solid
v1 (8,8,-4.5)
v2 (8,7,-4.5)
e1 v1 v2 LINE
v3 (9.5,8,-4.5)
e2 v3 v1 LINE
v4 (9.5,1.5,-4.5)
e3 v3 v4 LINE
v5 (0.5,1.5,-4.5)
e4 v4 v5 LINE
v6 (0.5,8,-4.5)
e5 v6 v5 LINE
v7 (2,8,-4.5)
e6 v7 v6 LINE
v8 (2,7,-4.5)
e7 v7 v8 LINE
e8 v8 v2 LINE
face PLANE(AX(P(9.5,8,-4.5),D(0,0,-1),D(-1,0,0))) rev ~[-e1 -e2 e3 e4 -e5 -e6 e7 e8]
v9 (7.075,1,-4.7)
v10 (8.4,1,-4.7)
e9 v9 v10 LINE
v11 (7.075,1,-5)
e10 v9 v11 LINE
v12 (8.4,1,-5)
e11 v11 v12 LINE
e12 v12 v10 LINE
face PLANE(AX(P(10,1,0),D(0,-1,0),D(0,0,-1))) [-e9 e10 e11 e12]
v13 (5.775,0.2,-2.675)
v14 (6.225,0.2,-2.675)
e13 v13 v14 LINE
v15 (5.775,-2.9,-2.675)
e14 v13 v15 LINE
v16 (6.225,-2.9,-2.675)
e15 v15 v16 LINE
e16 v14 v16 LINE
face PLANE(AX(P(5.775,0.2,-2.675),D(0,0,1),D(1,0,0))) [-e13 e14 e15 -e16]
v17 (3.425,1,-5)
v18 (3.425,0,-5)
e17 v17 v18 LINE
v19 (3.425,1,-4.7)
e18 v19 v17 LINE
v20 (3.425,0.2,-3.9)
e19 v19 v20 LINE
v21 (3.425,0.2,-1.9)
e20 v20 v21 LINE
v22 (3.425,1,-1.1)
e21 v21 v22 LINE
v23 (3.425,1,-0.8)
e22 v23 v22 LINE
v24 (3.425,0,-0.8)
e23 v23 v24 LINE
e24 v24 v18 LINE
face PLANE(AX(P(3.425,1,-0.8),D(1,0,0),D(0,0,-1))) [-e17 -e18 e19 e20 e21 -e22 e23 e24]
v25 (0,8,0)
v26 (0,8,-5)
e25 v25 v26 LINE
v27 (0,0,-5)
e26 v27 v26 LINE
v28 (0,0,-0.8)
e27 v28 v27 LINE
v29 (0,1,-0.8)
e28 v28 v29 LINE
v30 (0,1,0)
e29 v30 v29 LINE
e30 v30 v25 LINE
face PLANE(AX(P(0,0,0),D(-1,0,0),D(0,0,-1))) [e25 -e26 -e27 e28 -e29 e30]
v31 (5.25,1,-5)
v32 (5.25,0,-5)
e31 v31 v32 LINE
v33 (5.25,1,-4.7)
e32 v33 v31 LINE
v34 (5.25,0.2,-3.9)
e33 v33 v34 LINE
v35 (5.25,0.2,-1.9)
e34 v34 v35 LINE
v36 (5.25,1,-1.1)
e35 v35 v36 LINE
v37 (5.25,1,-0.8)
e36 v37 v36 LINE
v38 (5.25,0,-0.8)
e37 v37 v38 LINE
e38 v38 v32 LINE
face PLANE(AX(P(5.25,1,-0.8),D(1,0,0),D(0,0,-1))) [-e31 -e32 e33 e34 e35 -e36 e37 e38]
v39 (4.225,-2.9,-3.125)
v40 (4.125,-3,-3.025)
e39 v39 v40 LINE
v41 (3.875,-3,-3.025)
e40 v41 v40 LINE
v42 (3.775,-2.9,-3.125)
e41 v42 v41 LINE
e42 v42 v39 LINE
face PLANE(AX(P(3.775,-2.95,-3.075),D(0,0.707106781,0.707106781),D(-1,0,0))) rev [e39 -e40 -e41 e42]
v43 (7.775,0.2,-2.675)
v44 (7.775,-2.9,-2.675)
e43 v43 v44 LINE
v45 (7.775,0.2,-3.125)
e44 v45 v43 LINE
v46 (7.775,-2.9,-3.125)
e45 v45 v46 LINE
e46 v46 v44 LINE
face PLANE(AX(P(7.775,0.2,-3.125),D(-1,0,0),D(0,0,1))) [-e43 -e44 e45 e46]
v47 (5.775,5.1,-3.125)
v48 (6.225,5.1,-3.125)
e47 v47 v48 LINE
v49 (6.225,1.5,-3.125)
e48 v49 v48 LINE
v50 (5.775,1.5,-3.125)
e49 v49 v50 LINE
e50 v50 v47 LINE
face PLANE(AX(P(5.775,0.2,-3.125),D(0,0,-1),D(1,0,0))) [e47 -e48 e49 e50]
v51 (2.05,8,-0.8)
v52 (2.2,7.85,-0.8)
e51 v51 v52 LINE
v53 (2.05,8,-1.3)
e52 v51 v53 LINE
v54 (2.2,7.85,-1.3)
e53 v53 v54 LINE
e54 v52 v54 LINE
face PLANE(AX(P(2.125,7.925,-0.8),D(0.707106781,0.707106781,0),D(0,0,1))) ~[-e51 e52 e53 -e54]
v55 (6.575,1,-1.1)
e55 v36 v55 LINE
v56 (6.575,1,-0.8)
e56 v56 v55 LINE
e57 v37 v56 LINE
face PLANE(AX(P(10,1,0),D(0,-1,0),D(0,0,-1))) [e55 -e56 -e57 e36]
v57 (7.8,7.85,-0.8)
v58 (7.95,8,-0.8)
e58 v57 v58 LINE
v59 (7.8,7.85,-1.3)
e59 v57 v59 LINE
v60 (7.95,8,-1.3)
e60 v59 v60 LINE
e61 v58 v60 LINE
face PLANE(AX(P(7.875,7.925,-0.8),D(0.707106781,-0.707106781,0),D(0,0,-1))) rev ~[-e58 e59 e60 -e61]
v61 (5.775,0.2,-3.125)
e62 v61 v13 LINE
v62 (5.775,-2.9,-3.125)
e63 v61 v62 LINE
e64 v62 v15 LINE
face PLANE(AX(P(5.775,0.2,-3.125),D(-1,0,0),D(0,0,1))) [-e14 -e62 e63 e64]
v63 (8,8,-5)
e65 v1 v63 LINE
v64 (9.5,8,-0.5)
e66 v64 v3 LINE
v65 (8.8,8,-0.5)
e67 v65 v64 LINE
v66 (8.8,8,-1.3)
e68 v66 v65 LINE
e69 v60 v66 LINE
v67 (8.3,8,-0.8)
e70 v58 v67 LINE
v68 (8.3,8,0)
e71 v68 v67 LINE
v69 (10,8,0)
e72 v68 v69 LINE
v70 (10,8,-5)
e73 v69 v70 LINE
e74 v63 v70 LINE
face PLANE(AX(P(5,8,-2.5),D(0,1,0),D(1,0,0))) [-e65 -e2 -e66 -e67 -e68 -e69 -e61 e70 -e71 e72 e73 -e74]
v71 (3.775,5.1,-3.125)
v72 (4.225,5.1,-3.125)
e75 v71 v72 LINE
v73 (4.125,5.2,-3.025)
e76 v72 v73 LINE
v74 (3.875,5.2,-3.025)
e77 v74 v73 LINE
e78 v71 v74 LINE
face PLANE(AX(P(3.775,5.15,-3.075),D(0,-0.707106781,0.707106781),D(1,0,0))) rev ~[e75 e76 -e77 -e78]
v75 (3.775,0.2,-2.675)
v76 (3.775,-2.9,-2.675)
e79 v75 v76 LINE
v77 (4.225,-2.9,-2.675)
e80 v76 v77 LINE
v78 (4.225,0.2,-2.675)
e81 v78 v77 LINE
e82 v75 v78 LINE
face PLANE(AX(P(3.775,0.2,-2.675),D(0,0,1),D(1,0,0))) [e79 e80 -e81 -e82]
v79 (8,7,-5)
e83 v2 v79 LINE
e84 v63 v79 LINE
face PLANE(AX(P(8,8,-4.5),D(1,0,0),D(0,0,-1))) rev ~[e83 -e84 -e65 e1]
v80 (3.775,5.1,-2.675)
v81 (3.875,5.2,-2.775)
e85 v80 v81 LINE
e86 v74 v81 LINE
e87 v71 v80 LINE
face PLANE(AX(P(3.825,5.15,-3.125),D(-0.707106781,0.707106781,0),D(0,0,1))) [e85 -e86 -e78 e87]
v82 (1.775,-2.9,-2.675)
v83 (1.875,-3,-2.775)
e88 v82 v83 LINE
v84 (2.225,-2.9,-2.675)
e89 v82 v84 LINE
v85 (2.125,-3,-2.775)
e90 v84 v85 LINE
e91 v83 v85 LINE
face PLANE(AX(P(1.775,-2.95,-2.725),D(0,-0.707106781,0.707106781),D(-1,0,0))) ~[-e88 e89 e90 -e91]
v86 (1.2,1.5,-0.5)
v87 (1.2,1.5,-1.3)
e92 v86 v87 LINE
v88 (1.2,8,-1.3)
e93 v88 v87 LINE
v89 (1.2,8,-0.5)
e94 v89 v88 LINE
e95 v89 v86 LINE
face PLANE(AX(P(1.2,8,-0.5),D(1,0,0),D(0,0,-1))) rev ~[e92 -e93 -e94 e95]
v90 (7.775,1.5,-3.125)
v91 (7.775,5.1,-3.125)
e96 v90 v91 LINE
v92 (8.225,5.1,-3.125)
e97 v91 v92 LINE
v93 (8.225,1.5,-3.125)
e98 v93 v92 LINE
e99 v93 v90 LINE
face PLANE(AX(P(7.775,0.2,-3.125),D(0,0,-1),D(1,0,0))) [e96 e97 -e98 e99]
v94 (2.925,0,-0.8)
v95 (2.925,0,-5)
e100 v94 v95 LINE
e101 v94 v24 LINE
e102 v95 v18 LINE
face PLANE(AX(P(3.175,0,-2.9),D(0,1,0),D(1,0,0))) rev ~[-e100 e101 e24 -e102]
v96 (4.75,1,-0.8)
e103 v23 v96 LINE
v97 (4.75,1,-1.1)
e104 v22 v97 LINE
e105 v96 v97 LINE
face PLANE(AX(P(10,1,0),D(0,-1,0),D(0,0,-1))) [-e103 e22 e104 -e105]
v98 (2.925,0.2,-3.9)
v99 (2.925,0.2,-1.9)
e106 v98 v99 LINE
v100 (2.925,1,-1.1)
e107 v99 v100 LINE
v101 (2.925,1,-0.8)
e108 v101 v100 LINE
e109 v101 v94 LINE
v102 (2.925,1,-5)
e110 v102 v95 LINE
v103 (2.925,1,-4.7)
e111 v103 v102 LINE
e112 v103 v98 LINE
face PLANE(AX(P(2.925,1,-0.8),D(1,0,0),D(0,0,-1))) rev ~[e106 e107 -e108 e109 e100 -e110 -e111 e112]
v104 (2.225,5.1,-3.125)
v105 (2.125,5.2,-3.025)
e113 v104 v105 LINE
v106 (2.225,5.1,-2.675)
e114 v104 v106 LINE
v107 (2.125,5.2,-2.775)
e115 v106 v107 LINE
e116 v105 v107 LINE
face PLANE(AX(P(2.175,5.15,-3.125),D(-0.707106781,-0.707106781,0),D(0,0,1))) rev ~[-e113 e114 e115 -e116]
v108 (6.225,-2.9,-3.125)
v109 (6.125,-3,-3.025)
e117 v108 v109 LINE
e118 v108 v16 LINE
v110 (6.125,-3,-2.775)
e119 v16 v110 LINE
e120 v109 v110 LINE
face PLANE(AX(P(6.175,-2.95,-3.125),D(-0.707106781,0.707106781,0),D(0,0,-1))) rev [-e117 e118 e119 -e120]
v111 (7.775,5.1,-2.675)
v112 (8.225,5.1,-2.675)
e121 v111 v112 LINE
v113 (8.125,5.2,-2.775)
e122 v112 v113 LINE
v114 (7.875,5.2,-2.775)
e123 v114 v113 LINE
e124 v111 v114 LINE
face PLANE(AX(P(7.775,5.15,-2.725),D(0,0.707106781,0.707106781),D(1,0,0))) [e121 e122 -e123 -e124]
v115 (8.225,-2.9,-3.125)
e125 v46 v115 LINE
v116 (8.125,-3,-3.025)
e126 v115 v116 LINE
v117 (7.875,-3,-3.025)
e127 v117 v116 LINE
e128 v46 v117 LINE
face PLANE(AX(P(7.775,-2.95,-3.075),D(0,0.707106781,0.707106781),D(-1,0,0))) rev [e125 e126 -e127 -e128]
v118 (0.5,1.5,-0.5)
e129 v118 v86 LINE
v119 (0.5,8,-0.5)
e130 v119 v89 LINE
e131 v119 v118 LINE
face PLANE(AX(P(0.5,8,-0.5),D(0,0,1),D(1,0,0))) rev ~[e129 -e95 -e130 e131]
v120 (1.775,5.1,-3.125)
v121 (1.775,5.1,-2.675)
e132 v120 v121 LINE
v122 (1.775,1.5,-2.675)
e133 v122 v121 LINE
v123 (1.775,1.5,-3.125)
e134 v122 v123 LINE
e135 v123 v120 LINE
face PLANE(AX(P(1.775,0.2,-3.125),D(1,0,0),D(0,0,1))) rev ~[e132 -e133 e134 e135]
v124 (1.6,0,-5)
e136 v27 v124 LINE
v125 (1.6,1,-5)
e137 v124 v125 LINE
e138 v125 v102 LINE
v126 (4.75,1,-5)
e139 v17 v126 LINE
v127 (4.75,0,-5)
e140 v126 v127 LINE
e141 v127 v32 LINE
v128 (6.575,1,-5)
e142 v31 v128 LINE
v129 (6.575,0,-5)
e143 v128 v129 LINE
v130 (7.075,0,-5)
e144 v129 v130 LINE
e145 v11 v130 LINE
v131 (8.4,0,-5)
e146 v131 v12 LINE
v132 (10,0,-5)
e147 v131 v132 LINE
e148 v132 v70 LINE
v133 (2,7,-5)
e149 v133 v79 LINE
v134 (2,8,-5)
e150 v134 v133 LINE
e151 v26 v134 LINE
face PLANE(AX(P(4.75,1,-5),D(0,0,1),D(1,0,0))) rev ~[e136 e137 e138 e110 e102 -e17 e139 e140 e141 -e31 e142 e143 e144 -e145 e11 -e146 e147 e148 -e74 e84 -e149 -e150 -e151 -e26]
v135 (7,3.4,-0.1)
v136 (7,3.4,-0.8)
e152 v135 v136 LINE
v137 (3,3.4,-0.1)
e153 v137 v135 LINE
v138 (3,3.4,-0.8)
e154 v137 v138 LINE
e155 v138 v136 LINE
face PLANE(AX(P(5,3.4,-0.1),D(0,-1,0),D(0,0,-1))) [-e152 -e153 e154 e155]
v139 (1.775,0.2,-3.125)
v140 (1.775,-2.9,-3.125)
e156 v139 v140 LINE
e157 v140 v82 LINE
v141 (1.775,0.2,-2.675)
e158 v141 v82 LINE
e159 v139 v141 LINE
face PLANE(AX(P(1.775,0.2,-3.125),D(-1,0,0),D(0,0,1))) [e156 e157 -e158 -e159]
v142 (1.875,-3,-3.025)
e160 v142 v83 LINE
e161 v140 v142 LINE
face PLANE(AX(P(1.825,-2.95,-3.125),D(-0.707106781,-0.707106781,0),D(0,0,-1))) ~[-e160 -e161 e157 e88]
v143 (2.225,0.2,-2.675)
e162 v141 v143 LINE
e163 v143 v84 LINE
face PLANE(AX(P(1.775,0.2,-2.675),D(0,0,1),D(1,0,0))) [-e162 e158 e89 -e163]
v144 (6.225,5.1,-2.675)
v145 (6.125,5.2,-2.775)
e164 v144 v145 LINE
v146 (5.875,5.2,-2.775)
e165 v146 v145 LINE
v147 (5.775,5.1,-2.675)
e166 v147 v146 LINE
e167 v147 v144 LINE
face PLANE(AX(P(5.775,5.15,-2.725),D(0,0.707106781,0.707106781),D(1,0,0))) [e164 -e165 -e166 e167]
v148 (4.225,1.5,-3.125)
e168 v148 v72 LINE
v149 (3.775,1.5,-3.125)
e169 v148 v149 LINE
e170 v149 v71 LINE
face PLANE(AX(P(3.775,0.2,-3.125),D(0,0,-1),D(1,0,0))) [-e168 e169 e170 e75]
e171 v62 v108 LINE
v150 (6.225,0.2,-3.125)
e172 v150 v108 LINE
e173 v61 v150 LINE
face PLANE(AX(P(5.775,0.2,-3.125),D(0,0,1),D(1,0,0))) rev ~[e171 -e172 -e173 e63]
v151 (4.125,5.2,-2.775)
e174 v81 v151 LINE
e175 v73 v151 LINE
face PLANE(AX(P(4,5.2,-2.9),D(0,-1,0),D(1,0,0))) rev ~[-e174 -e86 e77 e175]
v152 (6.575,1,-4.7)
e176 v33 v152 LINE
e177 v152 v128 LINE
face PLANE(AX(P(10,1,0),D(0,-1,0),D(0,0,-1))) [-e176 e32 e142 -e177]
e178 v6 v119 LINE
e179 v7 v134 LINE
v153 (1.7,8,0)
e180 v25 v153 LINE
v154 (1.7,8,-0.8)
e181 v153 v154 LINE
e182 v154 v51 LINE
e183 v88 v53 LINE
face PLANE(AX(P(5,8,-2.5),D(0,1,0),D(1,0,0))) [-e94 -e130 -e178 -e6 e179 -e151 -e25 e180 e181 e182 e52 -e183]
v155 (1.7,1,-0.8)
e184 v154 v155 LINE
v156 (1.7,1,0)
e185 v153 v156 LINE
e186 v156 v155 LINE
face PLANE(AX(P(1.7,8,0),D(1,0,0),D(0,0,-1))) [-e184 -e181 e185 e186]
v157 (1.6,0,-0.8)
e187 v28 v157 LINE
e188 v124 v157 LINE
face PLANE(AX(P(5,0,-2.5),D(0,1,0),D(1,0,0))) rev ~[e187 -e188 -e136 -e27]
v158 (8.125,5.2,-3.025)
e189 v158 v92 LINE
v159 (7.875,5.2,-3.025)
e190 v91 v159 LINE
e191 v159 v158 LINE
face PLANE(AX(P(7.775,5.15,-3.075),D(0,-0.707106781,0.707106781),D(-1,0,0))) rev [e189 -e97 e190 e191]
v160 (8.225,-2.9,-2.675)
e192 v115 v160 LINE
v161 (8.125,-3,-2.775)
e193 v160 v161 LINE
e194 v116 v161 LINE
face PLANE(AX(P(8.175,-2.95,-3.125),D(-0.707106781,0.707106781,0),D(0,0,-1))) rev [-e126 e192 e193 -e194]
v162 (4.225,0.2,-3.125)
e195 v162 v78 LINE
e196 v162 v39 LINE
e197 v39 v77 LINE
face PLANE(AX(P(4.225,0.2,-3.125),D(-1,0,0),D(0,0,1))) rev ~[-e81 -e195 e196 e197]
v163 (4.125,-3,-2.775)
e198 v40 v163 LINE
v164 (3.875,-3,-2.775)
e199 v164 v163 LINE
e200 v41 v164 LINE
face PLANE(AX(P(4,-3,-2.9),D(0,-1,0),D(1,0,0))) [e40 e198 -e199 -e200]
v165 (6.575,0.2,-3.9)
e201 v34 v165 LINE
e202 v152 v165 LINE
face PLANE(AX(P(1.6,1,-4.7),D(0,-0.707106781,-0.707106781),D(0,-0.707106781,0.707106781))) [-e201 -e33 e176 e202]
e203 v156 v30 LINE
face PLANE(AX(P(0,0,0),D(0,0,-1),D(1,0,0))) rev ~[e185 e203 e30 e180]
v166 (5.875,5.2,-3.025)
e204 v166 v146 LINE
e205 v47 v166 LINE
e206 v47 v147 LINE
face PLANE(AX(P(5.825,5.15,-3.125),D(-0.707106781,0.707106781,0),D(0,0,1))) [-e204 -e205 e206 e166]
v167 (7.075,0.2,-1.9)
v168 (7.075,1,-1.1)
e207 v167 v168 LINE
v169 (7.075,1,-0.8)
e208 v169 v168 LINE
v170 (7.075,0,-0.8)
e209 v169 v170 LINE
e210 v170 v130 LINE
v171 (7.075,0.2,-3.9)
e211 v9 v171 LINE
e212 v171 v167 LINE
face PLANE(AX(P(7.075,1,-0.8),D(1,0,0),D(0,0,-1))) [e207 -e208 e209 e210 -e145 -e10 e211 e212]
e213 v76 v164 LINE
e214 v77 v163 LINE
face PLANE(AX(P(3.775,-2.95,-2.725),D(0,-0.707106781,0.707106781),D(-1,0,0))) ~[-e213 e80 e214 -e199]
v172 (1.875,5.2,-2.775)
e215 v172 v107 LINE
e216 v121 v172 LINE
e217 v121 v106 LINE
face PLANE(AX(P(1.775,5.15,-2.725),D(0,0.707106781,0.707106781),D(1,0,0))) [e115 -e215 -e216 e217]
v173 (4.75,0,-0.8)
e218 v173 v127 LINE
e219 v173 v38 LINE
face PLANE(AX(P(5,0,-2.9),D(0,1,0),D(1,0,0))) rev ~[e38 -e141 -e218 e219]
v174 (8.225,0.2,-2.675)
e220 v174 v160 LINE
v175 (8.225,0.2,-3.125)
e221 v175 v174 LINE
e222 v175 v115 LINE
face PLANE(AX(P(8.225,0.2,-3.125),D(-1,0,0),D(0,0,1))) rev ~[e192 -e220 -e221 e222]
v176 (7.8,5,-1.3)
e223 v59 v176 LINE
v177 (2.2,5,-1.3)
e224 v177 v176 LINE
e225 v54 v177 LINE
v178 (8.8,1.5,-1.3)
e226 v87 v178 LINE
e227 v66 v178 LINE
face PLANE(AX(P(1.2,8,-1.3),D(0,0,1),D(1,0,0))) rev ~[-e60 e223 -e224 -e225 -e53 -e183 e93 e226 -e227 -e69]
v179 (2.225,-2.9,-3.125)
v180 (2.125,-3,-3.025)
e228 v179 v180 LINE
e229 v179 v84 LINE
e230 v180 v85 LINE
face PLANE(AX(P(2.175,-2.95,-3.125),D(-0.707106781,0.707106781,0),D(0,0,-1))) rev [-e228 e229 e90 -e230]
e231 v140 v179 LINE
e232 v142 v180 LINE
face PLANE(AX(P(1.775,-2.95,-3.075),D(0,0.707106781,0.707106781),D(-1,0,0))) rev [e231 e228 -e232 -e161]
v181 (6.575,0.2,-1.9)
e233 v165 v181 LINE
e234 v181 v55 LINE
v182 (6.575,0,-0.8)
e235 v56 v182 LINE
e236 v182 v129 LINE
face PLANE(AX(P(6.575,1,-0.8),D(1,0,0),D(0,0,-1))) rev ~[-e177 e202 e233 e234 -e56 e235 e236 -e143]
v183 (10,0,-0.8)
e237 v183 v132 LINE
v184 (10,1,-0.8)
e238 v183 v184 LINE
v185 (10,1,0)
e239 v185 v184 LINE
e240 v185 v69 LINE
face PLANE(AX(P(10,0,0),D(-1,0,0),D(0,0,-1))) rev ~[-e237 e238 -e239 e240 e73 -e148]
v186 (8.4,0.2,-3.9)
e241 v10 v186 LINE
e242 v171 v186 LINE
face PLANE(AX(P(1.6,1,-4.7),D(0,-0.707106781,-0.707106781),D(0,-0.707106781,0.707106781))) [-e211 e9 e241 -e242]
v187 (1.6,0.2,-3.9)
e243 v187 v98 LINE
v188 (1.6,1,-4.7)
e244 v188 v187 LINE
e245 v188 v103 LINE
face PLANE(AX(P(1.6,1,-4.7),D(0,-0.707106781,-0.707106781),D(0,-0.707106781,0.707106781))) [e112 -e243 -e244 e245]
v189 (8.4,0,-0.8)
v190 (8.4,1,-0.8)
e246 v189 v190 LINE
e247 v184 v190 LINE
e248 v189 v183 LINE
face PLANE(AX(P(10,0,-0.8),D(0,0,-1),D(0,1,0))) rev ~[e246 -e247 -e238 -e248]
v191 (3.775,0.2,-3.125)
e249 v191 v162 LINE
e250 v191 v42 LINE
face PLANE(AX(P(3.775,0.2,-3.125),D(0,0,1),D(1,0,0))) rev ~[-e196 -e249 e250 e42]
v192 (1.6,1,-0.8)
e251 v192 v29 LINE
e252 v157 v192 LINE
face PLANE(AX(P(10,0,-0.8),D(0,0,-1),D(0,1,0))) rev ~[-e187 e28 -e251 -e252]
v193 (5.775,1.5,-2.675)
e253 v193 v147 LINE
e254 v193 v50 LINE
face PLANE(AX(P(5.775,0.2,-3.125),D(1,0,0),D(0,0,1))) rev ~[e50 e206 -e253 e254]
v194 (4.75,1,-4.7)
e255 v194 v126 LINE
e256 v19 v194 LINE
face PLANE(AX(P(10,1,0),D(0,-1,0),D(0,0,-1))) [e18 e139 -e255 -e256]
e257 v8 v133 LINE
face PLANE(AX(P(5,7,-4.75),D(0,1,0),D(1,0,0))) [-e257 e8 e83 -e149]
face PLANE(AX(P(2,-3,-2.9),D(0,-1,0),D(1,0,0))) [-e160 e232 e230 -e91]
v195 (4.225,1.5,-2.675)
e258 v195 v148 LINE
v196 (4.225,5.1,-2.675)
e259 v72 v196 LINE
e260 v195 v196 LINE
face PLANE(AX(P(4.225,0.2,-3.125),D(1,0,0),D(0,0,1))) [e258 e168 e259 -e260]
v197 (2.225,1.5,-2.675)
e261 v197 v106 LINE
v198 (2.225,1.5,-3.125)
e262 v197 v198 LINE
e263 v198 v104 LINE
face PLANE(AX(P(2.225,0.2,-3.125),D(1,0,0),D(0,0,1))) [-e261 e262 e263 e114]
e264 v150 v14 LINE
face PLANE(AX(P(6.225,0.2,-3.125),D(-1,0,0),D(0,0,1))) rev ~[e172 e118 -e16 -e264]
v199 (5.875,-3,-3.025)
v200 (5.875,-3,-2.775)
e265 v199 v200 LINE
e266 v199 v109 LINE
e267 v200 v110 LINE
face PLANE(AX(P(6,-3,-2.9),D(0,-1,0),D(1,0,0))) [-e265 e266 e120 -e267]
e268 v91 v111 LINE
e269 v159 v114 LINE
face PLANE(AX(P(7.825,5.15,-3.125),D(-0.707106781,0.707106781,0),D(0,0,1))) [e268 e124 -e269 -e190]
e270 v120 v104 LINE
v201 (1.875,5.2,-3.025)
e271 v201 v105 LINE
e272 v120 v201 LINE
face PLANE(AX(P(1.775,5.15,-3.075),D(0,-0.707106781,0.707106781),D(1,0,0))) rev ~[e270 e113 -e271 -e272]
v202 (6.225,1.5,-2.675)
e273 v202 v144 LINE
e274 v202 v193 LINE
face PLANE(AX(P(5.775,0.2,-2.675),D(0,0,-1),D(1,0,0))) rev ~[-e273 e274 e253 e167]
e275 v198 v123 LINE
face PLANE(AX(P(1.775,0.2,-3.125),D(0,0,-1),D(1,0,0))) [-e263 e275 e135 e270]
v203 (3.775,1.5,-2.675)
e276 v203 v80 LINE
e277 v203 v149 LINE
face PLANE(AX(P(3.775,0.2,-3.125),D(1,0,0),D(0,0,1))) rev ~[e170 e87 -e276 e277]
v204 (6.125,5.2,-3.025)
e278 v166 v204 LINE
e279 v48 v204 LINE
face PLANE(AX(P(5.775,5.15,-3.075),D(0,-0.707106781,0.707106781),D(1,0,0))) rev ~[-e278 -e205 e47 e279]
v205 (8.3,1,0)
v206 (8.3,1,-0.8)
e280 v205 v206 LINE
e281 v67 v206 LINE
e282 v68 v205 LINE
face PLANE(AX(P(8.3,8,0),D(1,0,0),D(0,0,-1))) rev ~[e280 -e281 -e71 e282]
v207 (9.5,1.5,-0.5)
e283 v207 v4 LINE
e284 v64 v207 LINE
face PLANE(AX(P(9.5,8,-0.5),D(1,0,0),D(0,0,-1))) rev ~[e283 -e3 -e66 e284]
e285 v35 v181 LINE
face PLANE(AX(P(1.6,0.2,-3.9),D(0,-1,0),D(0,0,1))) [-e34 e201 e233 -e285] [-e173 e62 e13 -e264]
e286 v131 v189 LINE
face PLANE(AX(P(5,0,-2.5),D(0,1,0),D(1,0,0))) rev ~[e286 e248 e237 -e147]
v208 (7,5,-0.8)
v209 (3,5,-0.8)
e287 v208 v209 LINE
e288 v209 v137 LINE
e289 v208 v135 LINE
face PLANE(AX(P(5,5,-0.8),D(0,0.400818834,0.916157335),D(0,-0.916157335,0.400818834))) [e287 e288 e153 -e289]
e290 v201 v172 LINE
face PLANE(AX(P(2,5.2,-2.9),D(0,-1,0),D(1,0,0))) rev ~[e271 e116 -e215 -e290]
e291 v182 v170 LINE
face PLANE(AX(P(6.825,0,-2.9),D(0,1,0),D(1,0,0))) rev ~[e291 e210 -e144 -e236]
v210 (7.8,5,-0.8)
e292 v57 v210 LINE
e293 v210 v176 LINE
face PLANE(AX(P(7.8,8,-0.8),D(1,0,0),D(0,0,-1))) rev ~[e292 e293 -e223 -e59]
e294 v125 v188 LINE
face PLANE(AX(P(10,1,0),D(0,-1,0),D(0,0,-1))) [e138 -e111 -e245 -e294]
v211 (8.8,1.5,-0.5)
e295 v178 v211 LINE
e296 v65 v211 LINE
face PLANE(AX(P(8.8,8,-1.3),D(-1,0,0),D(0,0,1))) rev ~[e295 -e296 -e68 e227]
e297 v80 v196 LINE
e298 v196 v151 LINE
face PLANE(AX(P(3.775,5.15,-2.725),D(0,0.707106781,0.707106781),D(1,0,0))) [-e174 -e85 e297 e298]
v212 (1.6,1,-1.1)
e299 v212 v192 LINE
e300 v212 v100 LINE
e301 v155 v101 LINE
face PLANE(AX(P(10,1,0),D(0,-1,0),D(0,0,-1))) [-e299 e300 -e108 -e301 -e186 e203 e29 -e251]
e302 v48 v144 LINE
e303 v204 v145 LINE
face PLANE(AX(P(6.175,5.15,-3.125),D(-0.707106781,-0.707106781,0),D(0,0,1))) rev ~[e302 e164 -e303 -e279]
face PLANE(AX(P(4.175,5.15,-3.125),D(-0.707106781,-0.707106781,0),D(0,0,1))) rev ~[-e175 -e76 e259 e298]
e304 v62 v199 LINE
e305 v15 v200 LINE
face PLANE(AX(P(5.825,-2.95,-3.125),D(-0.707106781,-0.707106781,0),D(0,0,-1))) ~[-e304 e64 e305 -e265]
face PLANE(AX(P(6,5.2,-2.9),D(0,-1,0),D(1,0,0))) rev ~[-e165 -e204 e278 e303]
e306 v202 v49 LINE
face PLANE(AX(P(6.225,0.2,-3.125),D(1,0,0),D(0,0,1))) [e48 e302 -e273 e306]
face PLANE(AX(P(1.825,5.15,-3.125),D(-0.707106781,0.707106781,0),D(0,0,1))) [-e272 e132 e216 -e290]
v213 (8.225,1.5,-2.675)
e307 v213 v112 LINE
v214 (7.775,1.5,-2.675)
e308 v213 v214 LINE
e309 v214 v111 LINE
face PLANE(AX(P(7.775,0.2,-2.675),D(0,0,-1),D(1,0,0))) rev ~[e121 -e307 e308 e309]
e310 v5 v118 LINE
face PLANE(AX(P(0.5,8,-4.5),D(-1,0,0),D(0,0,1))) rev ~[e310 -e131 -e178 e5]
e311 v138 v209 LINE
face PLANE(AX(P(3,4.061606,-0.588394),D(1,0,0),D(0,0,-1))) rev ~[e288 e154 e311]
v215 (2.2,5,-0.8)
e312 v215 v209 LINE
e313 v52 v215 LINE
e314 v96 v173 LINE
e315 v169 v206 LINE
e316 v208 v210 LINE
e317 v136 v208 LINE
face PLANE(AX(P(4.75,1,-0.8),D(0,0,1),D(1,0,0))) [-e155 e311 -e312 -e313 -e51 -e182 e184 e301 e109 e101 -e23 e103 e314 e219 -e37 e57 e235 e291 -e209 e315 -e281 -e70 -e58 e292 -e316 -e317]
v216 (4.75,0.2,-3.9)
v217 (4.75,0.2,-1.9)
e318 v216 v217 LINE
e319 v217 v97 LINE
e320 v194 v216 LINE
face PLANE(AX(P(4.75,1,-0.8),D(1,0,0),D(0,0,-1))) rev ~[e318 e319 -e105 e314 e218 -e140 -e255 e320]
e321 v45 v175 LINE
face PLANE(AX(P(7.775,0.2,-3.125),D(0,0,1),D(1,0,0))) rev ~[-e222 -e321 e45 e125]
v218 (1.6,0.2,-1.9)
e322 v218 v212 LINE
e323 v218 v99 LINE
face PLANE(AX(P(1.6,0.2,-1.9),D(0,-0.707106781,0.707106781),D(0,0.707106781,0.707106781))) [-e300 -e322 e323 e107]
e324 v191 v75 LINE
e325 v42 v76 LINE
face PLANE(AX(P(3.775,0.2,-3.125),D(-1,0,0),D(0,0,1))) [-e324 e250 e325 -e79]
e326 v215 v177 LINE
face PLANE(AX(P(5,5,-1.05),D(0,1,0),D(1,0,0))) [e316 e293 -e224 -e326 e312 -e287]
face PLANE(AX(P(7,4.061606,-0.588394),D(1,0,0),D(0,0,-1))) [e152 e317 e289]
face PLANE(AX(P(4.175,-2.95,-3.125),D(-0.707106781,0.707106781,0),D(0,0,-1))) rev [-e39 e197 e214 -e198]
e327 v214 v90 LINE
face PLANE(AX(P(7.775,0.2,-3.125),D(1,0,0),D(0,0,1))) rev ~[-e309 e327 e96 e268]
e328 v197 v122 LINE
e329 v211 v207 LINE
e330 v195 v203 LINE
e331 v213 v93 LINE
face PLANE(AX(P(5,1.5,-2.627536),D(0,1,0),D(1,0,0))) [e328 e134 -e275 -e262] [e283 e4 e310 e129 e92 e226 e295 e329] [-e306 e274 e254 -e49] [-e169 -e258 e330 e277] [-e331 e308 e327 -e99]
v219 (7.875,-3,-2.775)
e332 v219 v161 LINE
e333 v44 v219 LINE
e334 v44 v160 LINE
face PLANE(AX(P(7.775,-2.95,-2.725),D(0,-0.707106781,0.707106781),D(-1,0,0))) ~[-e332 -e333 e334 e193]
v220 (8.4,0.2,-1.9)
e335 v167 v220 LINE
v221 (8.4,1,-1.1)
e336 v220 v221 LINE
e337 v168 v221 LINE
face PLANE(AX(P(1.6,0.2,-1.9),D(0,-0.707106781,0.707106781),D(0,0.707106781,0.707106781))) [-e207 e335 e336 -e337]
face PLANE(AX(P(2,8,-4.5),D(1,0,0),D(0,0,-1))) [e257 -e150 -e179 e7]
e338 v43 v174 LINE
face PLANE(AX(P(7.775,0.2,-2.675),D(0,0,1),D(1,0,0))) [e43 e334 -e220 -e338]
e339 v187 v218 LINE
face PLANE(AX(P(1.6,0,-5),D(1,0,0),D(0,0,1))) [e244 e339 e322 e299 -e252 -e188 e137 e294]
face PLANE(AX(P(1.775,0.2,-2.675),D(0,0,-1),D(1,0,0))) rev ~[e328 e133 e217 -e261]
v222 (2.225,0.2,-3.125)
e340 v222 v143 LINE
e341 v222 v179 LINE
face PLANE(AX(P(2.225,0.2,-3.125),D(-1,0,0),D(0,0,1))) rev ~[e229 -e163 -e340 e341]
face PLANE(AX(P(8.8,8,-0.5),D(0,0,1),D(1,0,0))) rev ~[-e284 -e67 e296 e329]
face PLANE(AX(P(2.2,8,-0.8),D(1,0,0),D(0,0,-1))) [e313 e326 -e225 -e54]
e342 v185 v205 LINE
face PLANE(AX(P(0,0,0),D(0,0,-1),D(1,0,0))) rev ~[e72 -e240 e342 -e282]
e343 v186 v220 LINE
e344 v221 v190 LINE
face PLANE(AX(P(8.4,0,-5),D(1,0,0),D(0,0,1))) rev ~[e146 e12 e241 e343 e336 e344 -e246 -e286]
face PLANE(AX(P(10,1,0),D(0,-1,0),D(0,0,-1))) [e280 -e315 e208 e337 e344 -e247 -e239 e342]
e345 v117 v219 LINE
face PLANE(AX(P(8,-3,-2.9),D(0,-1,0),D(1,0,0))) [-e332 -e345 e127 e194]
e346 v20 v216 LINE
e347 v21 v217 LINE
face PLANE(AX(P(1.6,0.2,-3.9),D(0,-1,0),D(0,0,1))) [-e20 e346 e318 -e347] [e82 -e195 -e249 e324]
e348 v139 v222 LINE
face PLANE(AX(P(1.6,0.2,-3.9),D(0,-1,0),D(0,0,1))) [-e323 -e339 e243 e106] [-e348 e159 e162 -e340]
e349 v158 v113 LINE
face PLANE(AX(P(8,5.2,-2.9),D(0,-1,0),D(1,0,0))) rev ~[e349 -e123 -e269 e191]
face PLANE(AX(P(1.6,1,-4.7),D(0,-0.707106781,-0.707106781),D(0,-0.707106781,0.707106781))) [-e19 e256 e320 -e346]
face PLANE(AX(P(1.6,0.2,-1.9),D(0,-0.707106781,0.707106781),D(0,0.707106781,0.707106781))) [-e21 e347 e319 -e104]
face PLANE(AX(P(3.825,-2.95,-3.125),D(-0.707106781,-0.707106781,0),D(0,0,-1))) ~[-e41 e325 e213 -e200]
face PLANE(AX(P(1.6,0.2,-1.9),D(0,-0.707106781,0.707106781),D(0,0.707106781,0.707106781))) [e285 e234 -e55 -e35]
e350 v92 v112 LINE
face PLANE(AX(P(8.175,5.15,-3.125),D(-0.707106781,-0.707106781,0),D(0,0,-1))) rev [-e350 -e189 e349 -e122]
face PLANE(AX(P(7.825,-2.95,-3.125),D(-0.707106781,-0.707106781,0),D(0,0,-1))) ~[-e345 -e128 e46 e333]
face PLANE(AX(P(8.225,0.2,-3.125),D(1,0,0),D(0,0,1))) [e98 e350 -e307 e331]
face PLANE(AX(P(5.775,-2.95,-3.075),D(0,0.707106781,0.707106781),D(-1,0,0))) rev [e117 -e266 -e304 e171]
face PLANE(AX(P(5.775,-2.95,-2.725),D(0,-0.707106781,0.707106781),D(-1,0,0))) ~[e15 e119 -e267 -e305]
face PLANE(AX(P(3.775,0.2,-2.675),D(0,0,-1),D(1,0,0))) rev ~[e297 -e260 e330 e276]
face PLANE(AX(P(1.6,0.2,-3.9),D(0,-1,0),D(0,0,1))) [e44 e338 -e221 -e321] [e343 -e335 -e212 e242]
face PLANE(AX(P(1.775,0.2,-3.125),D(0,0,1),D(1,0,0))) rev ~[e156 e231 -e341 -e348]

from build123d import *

# Parameters (mm, degrees)
ESQUISSE1_W             = 10
ESQUISSE1_H             = 5
BOSS_EXTRU_1_DEPTH      = 8
ESQUISSE2_W             = 6.6
ESQUISSE2_H             = 0.8
ENL_V_MAT_EXTRU_1_DEPTH = 8
ENL_V_MAT_EXTRU_2_DEPTH = 6.5
ESQUISSE5_W             = 6
ESQUISSE5_H             = 0.5
ENL_V_MAT_EXTRU_3_DEPTH = 1
ESQUISSE6_W             = 5.6
ESQUISSE6_H             = 0.5
ENL_V_MAT_EXTRU_4_DEPTH = 3
ESQUISSE7_W             = 0.8
ESQUISSE7_H             = 1
ENL_V_MAT_EXTRU_5_DEPTH = 10
ESQUISSE8_W             = 6.8
ESQUISSE8_H             = 4.2
ENL_V_MAT_EXTRU_6_DEPTH = 1
BOSS_EXTRU_2_DEPTH      = 6.8
BOSS_EXTRU_3_DEPTH      = 2
BOSS_EXTRU_3_DEPTH_BACK = 2
ESQUISSE12_W            = 0.5
ESQUISSE12_H            = 4.2
BOSS_EXTRU_4_DEPTH      = 1
CHANFREIN1_SIZE         = 0.15
ESQUISSE13_W            = 0.45
ESQUISSE13_H            = 0.45
BOSS_EXTRU_5_DEPTH      = 3.2
BOSS_EXTRU_5_DEPTH_BACK = 5
CHANFREIN2_SIZE         = 0.1


with BuildPart() as part:
    # Esquisse1 → Boss.-Extru.1 (new body)
    with BuildSketch(Plane(origin=(0, 0, 0), x_dir=(1, 0, 0), z_dir=(0, 1, 0))):
        with Locations((5, 2.5)):
            Rectangle(ESQUISSE1_W, ESQUISSE1_H)
    extrude(amount=BOSS_EXTRU_1_DEPTH)

    # Esquisse2 → Enlèv. mat.-Extru.1 (cut)
    with BuildSketch(Plane(origin=(0, 8, 0), x_dir=(1, 0, 0), z_dir=(0, 1, 0))):
        with Locations((5, 0.4)):
            Rectangle(ESQUISSE2_W, ESQUISSE2_H)
    extrude(amount=-ENL_V_MAT_EXTRU_1_DEPTH, mode=Mode.SUBTRACT)

    # Esquisse4 → Enlèv. mat.-Extru.2 (cut)
    with BuildSketch(Plane(origin=(0, 8, 0), x_dir=(1, 0, 0), z_dir=(0, 1, 0))):
        Polygon((0.5, 0.5), (1.2, 0.5), (1.2, 1.3), (8.8, 1.3), (8.8, 0.5), (9.5, 0.5), (9.5, 4.5), (0.5, 4.5), align=None)
    extrude(amount=-ENL_V_MAT_EXTRU_2_DEPTH, mode=Mode.SUBTRACT)

    # Esquisse5 → Enlèv. mat.-Extru.3 (cut)
    with BuildSketch(Plane(origin=(0, 8, 0), x_dir=(1, 0, 0), z_dir=(0, 1, 0))):
        with Locations((5, 4.75)):
            Rectangle(ESQUISSE5_W, ESQUISSE5_H)
    extrude(amount=-ENL_V_MAT_EXTRU_3_DEPTH, mode=Mode.SUBTRACT)

    # Esquisse6 → Enlèv. mat.-Extru.4 (cut)
    with BuildSketch(Plane(origin=(0, 8, 0), x_dir=(1, 0, 0), z_dir=(0, 1, 0))):
        with Locations((5, 1.05)):
            Rectangle(ESQUISSE6_W, ESQUISSE6_H)
    extrude(amount=-ENL_V_MAT_EXTRU_4_DEPTH, mode=Mode.SUBTRACT)

    # Esquisse7 → Enlèv. mat.-Extru.5 (cut)
    with BuildSketch(Plane(origin=(10, 0, 0), x_dir=(0, 0, -1), z_dir=(1, 0, 0))):
        with Locations((0.4, 0.5)):
            Rectangle(ESQUISSE7_W, ESQUISSE7_H)
    extrude(amount=-ENL_V_MAT_EXTRU_5_DEPTH, mode=Mode.SUBTRACT)

    # Esquisse8 → Enlèv. mat.-Extru.6 (cut)
    with BuildSketch(Plane.XZ):
        with Locations((5, -2.9)):
            Rectangle(ESQUISSE8_W, ESQUISSE8_H)
    extrude(amount=-ENL_V_MAT_EXTRU_6_DEPTH, mode=Mode.SUBTRACT)

    # Esquisse9 → Boss.-Extru.2 (add)
    with BuildSketch(Plane(origin=(1.6, 0, 0), x_dir=(0, 0, -1), z_dir=(1, 0, 0))):
        Polygon((4.7, 1), (3.9, 0.2), (1.9, 0.2), (1.1, 1), align=None)
    extrude(amount=BOSS_EXTRU_2_DEPTH)

    # Esquisse11 → Boss.-Extru.3 (add, two sides)
    with BuildSketch(Plane(origin=(5, 0, 0), x_dir=(0, 0, -1), z_dir=(1, 0, 0))) as boss_extru_3_sk:
        Polygon((0.8, 5), (0.1, 3.4), (0.8, 3.4), align=None)
    extrude(amount=BOSS_EXTRU_3_DEPTH)
    extrude(boss_extru_3_sk.sketch, amount=-BOSS_EXTRU_3_DEPTH_BACK)

    # Esquisse12 → Boss.-Extru.4 (add)
    with BuildSketch(Plane(origin=(0, 1, 0), x_dir=(1, 0, 0), z_dir=(0, 1, 0))):
        with Locations((5, 2.9)):
            Rectangle(ESQUISSE12_W, ESQUISSE12_H)
        with Locations((3.175, 2.9)):
            Rectangle(ESQUISSE12_W, ESQUISSE12_H)
        with Locations((6.825, 2.9)):
            Rectangle(ESQUISSE12_W, ESQUISSE12_H)
    extrude(amount=-BOSS_EXTRU_4_DEPTH)

    # Chanfrein1
    chanfrein1_edges = [part.edges().sort_by_distance(p)[0] for p in [
        (2.2, 8, -1.05),
        (7.8, 8, -1.05),
    ]]
    chamfer(chanfrein1_edges, length=CHANFREIN1_SIZE)

    # Esquisse13 → Boss.-Extru.5 (add, two sides)
    with BuildSketch(Plane.XZ.offset(-0.2)) as boss_extru_5_sk:
        with Locations((8, -2.9)):
            Rectangle(ESQUISSE13_W, ESQUISSE13_H)
        with Locations((2, -2.9)):
            Rectangle(ESQUISSE13_W, ESQUISSE13_H)
        with Locations((4, -2.9)):
            Rectangle(ESQUISSE13_W, ESQUISSE13_H)
        with Locations((6, -2.9)):
            Rectangle(ESQUISSE13_W, ESQUISSE13_H)
    extrude(amount=BOSS_EXTRU_5_DEPTH)
    extrude(boss_extru_5_sk.sketch, amount=-BOSS_EXTRU_5_DEPTH_BACK)

    # Chanfrein2
    chanfrein2_edges = [part.edges().sort_by_distance(p)[0] for p in [
        (2.225, 5.2, -2.9),
        (2, 5.2, -3.125),
        (1.775, 5.2, -2.9),
        (2, 5.2, -2.675),
        (2.225, -3, -2.9),
        (2, -3, -2.675),
        (1.775, -3, -2.9),
        (2, -3, -3.125),
        (4.225, 5.2, -2.9),
        (4, 5.2, -3.125),
        (3.775, 5.2, -2.9),
        (4, 5.2, -2.675),
        (4.225, -3, -2.9),
        (4, -3, -2.675),
        (3.775, -3, -2.9),
        (4, -3, -3.125),
        (7.775, 5.2, -2.9),
        (8, 5.2, -2.675),
        (8.225, 5.2, -2.9),
        (8, 5.2, -3.125),
        (7.775, -3, -2.9),
        (8, -3, -3.125),
        (8.225, -3, -2.9),
        (8, -3, -2.675),
        (6, 5.2, -2.675),
        (6.225, 5.2, -2.9),
        (6, 5.2, -3.125),
        (5.775, 5.2, -2.9),
        (6, -3, -2.675),
        (5.775, -3, -2.9),
        (6, -3, -3.125),
        (6.225, -3, -2.9),
    ]]
    chamfer(chanfrein2_edges, length=CHANFREIN2_SIZE)


solid = part.part
